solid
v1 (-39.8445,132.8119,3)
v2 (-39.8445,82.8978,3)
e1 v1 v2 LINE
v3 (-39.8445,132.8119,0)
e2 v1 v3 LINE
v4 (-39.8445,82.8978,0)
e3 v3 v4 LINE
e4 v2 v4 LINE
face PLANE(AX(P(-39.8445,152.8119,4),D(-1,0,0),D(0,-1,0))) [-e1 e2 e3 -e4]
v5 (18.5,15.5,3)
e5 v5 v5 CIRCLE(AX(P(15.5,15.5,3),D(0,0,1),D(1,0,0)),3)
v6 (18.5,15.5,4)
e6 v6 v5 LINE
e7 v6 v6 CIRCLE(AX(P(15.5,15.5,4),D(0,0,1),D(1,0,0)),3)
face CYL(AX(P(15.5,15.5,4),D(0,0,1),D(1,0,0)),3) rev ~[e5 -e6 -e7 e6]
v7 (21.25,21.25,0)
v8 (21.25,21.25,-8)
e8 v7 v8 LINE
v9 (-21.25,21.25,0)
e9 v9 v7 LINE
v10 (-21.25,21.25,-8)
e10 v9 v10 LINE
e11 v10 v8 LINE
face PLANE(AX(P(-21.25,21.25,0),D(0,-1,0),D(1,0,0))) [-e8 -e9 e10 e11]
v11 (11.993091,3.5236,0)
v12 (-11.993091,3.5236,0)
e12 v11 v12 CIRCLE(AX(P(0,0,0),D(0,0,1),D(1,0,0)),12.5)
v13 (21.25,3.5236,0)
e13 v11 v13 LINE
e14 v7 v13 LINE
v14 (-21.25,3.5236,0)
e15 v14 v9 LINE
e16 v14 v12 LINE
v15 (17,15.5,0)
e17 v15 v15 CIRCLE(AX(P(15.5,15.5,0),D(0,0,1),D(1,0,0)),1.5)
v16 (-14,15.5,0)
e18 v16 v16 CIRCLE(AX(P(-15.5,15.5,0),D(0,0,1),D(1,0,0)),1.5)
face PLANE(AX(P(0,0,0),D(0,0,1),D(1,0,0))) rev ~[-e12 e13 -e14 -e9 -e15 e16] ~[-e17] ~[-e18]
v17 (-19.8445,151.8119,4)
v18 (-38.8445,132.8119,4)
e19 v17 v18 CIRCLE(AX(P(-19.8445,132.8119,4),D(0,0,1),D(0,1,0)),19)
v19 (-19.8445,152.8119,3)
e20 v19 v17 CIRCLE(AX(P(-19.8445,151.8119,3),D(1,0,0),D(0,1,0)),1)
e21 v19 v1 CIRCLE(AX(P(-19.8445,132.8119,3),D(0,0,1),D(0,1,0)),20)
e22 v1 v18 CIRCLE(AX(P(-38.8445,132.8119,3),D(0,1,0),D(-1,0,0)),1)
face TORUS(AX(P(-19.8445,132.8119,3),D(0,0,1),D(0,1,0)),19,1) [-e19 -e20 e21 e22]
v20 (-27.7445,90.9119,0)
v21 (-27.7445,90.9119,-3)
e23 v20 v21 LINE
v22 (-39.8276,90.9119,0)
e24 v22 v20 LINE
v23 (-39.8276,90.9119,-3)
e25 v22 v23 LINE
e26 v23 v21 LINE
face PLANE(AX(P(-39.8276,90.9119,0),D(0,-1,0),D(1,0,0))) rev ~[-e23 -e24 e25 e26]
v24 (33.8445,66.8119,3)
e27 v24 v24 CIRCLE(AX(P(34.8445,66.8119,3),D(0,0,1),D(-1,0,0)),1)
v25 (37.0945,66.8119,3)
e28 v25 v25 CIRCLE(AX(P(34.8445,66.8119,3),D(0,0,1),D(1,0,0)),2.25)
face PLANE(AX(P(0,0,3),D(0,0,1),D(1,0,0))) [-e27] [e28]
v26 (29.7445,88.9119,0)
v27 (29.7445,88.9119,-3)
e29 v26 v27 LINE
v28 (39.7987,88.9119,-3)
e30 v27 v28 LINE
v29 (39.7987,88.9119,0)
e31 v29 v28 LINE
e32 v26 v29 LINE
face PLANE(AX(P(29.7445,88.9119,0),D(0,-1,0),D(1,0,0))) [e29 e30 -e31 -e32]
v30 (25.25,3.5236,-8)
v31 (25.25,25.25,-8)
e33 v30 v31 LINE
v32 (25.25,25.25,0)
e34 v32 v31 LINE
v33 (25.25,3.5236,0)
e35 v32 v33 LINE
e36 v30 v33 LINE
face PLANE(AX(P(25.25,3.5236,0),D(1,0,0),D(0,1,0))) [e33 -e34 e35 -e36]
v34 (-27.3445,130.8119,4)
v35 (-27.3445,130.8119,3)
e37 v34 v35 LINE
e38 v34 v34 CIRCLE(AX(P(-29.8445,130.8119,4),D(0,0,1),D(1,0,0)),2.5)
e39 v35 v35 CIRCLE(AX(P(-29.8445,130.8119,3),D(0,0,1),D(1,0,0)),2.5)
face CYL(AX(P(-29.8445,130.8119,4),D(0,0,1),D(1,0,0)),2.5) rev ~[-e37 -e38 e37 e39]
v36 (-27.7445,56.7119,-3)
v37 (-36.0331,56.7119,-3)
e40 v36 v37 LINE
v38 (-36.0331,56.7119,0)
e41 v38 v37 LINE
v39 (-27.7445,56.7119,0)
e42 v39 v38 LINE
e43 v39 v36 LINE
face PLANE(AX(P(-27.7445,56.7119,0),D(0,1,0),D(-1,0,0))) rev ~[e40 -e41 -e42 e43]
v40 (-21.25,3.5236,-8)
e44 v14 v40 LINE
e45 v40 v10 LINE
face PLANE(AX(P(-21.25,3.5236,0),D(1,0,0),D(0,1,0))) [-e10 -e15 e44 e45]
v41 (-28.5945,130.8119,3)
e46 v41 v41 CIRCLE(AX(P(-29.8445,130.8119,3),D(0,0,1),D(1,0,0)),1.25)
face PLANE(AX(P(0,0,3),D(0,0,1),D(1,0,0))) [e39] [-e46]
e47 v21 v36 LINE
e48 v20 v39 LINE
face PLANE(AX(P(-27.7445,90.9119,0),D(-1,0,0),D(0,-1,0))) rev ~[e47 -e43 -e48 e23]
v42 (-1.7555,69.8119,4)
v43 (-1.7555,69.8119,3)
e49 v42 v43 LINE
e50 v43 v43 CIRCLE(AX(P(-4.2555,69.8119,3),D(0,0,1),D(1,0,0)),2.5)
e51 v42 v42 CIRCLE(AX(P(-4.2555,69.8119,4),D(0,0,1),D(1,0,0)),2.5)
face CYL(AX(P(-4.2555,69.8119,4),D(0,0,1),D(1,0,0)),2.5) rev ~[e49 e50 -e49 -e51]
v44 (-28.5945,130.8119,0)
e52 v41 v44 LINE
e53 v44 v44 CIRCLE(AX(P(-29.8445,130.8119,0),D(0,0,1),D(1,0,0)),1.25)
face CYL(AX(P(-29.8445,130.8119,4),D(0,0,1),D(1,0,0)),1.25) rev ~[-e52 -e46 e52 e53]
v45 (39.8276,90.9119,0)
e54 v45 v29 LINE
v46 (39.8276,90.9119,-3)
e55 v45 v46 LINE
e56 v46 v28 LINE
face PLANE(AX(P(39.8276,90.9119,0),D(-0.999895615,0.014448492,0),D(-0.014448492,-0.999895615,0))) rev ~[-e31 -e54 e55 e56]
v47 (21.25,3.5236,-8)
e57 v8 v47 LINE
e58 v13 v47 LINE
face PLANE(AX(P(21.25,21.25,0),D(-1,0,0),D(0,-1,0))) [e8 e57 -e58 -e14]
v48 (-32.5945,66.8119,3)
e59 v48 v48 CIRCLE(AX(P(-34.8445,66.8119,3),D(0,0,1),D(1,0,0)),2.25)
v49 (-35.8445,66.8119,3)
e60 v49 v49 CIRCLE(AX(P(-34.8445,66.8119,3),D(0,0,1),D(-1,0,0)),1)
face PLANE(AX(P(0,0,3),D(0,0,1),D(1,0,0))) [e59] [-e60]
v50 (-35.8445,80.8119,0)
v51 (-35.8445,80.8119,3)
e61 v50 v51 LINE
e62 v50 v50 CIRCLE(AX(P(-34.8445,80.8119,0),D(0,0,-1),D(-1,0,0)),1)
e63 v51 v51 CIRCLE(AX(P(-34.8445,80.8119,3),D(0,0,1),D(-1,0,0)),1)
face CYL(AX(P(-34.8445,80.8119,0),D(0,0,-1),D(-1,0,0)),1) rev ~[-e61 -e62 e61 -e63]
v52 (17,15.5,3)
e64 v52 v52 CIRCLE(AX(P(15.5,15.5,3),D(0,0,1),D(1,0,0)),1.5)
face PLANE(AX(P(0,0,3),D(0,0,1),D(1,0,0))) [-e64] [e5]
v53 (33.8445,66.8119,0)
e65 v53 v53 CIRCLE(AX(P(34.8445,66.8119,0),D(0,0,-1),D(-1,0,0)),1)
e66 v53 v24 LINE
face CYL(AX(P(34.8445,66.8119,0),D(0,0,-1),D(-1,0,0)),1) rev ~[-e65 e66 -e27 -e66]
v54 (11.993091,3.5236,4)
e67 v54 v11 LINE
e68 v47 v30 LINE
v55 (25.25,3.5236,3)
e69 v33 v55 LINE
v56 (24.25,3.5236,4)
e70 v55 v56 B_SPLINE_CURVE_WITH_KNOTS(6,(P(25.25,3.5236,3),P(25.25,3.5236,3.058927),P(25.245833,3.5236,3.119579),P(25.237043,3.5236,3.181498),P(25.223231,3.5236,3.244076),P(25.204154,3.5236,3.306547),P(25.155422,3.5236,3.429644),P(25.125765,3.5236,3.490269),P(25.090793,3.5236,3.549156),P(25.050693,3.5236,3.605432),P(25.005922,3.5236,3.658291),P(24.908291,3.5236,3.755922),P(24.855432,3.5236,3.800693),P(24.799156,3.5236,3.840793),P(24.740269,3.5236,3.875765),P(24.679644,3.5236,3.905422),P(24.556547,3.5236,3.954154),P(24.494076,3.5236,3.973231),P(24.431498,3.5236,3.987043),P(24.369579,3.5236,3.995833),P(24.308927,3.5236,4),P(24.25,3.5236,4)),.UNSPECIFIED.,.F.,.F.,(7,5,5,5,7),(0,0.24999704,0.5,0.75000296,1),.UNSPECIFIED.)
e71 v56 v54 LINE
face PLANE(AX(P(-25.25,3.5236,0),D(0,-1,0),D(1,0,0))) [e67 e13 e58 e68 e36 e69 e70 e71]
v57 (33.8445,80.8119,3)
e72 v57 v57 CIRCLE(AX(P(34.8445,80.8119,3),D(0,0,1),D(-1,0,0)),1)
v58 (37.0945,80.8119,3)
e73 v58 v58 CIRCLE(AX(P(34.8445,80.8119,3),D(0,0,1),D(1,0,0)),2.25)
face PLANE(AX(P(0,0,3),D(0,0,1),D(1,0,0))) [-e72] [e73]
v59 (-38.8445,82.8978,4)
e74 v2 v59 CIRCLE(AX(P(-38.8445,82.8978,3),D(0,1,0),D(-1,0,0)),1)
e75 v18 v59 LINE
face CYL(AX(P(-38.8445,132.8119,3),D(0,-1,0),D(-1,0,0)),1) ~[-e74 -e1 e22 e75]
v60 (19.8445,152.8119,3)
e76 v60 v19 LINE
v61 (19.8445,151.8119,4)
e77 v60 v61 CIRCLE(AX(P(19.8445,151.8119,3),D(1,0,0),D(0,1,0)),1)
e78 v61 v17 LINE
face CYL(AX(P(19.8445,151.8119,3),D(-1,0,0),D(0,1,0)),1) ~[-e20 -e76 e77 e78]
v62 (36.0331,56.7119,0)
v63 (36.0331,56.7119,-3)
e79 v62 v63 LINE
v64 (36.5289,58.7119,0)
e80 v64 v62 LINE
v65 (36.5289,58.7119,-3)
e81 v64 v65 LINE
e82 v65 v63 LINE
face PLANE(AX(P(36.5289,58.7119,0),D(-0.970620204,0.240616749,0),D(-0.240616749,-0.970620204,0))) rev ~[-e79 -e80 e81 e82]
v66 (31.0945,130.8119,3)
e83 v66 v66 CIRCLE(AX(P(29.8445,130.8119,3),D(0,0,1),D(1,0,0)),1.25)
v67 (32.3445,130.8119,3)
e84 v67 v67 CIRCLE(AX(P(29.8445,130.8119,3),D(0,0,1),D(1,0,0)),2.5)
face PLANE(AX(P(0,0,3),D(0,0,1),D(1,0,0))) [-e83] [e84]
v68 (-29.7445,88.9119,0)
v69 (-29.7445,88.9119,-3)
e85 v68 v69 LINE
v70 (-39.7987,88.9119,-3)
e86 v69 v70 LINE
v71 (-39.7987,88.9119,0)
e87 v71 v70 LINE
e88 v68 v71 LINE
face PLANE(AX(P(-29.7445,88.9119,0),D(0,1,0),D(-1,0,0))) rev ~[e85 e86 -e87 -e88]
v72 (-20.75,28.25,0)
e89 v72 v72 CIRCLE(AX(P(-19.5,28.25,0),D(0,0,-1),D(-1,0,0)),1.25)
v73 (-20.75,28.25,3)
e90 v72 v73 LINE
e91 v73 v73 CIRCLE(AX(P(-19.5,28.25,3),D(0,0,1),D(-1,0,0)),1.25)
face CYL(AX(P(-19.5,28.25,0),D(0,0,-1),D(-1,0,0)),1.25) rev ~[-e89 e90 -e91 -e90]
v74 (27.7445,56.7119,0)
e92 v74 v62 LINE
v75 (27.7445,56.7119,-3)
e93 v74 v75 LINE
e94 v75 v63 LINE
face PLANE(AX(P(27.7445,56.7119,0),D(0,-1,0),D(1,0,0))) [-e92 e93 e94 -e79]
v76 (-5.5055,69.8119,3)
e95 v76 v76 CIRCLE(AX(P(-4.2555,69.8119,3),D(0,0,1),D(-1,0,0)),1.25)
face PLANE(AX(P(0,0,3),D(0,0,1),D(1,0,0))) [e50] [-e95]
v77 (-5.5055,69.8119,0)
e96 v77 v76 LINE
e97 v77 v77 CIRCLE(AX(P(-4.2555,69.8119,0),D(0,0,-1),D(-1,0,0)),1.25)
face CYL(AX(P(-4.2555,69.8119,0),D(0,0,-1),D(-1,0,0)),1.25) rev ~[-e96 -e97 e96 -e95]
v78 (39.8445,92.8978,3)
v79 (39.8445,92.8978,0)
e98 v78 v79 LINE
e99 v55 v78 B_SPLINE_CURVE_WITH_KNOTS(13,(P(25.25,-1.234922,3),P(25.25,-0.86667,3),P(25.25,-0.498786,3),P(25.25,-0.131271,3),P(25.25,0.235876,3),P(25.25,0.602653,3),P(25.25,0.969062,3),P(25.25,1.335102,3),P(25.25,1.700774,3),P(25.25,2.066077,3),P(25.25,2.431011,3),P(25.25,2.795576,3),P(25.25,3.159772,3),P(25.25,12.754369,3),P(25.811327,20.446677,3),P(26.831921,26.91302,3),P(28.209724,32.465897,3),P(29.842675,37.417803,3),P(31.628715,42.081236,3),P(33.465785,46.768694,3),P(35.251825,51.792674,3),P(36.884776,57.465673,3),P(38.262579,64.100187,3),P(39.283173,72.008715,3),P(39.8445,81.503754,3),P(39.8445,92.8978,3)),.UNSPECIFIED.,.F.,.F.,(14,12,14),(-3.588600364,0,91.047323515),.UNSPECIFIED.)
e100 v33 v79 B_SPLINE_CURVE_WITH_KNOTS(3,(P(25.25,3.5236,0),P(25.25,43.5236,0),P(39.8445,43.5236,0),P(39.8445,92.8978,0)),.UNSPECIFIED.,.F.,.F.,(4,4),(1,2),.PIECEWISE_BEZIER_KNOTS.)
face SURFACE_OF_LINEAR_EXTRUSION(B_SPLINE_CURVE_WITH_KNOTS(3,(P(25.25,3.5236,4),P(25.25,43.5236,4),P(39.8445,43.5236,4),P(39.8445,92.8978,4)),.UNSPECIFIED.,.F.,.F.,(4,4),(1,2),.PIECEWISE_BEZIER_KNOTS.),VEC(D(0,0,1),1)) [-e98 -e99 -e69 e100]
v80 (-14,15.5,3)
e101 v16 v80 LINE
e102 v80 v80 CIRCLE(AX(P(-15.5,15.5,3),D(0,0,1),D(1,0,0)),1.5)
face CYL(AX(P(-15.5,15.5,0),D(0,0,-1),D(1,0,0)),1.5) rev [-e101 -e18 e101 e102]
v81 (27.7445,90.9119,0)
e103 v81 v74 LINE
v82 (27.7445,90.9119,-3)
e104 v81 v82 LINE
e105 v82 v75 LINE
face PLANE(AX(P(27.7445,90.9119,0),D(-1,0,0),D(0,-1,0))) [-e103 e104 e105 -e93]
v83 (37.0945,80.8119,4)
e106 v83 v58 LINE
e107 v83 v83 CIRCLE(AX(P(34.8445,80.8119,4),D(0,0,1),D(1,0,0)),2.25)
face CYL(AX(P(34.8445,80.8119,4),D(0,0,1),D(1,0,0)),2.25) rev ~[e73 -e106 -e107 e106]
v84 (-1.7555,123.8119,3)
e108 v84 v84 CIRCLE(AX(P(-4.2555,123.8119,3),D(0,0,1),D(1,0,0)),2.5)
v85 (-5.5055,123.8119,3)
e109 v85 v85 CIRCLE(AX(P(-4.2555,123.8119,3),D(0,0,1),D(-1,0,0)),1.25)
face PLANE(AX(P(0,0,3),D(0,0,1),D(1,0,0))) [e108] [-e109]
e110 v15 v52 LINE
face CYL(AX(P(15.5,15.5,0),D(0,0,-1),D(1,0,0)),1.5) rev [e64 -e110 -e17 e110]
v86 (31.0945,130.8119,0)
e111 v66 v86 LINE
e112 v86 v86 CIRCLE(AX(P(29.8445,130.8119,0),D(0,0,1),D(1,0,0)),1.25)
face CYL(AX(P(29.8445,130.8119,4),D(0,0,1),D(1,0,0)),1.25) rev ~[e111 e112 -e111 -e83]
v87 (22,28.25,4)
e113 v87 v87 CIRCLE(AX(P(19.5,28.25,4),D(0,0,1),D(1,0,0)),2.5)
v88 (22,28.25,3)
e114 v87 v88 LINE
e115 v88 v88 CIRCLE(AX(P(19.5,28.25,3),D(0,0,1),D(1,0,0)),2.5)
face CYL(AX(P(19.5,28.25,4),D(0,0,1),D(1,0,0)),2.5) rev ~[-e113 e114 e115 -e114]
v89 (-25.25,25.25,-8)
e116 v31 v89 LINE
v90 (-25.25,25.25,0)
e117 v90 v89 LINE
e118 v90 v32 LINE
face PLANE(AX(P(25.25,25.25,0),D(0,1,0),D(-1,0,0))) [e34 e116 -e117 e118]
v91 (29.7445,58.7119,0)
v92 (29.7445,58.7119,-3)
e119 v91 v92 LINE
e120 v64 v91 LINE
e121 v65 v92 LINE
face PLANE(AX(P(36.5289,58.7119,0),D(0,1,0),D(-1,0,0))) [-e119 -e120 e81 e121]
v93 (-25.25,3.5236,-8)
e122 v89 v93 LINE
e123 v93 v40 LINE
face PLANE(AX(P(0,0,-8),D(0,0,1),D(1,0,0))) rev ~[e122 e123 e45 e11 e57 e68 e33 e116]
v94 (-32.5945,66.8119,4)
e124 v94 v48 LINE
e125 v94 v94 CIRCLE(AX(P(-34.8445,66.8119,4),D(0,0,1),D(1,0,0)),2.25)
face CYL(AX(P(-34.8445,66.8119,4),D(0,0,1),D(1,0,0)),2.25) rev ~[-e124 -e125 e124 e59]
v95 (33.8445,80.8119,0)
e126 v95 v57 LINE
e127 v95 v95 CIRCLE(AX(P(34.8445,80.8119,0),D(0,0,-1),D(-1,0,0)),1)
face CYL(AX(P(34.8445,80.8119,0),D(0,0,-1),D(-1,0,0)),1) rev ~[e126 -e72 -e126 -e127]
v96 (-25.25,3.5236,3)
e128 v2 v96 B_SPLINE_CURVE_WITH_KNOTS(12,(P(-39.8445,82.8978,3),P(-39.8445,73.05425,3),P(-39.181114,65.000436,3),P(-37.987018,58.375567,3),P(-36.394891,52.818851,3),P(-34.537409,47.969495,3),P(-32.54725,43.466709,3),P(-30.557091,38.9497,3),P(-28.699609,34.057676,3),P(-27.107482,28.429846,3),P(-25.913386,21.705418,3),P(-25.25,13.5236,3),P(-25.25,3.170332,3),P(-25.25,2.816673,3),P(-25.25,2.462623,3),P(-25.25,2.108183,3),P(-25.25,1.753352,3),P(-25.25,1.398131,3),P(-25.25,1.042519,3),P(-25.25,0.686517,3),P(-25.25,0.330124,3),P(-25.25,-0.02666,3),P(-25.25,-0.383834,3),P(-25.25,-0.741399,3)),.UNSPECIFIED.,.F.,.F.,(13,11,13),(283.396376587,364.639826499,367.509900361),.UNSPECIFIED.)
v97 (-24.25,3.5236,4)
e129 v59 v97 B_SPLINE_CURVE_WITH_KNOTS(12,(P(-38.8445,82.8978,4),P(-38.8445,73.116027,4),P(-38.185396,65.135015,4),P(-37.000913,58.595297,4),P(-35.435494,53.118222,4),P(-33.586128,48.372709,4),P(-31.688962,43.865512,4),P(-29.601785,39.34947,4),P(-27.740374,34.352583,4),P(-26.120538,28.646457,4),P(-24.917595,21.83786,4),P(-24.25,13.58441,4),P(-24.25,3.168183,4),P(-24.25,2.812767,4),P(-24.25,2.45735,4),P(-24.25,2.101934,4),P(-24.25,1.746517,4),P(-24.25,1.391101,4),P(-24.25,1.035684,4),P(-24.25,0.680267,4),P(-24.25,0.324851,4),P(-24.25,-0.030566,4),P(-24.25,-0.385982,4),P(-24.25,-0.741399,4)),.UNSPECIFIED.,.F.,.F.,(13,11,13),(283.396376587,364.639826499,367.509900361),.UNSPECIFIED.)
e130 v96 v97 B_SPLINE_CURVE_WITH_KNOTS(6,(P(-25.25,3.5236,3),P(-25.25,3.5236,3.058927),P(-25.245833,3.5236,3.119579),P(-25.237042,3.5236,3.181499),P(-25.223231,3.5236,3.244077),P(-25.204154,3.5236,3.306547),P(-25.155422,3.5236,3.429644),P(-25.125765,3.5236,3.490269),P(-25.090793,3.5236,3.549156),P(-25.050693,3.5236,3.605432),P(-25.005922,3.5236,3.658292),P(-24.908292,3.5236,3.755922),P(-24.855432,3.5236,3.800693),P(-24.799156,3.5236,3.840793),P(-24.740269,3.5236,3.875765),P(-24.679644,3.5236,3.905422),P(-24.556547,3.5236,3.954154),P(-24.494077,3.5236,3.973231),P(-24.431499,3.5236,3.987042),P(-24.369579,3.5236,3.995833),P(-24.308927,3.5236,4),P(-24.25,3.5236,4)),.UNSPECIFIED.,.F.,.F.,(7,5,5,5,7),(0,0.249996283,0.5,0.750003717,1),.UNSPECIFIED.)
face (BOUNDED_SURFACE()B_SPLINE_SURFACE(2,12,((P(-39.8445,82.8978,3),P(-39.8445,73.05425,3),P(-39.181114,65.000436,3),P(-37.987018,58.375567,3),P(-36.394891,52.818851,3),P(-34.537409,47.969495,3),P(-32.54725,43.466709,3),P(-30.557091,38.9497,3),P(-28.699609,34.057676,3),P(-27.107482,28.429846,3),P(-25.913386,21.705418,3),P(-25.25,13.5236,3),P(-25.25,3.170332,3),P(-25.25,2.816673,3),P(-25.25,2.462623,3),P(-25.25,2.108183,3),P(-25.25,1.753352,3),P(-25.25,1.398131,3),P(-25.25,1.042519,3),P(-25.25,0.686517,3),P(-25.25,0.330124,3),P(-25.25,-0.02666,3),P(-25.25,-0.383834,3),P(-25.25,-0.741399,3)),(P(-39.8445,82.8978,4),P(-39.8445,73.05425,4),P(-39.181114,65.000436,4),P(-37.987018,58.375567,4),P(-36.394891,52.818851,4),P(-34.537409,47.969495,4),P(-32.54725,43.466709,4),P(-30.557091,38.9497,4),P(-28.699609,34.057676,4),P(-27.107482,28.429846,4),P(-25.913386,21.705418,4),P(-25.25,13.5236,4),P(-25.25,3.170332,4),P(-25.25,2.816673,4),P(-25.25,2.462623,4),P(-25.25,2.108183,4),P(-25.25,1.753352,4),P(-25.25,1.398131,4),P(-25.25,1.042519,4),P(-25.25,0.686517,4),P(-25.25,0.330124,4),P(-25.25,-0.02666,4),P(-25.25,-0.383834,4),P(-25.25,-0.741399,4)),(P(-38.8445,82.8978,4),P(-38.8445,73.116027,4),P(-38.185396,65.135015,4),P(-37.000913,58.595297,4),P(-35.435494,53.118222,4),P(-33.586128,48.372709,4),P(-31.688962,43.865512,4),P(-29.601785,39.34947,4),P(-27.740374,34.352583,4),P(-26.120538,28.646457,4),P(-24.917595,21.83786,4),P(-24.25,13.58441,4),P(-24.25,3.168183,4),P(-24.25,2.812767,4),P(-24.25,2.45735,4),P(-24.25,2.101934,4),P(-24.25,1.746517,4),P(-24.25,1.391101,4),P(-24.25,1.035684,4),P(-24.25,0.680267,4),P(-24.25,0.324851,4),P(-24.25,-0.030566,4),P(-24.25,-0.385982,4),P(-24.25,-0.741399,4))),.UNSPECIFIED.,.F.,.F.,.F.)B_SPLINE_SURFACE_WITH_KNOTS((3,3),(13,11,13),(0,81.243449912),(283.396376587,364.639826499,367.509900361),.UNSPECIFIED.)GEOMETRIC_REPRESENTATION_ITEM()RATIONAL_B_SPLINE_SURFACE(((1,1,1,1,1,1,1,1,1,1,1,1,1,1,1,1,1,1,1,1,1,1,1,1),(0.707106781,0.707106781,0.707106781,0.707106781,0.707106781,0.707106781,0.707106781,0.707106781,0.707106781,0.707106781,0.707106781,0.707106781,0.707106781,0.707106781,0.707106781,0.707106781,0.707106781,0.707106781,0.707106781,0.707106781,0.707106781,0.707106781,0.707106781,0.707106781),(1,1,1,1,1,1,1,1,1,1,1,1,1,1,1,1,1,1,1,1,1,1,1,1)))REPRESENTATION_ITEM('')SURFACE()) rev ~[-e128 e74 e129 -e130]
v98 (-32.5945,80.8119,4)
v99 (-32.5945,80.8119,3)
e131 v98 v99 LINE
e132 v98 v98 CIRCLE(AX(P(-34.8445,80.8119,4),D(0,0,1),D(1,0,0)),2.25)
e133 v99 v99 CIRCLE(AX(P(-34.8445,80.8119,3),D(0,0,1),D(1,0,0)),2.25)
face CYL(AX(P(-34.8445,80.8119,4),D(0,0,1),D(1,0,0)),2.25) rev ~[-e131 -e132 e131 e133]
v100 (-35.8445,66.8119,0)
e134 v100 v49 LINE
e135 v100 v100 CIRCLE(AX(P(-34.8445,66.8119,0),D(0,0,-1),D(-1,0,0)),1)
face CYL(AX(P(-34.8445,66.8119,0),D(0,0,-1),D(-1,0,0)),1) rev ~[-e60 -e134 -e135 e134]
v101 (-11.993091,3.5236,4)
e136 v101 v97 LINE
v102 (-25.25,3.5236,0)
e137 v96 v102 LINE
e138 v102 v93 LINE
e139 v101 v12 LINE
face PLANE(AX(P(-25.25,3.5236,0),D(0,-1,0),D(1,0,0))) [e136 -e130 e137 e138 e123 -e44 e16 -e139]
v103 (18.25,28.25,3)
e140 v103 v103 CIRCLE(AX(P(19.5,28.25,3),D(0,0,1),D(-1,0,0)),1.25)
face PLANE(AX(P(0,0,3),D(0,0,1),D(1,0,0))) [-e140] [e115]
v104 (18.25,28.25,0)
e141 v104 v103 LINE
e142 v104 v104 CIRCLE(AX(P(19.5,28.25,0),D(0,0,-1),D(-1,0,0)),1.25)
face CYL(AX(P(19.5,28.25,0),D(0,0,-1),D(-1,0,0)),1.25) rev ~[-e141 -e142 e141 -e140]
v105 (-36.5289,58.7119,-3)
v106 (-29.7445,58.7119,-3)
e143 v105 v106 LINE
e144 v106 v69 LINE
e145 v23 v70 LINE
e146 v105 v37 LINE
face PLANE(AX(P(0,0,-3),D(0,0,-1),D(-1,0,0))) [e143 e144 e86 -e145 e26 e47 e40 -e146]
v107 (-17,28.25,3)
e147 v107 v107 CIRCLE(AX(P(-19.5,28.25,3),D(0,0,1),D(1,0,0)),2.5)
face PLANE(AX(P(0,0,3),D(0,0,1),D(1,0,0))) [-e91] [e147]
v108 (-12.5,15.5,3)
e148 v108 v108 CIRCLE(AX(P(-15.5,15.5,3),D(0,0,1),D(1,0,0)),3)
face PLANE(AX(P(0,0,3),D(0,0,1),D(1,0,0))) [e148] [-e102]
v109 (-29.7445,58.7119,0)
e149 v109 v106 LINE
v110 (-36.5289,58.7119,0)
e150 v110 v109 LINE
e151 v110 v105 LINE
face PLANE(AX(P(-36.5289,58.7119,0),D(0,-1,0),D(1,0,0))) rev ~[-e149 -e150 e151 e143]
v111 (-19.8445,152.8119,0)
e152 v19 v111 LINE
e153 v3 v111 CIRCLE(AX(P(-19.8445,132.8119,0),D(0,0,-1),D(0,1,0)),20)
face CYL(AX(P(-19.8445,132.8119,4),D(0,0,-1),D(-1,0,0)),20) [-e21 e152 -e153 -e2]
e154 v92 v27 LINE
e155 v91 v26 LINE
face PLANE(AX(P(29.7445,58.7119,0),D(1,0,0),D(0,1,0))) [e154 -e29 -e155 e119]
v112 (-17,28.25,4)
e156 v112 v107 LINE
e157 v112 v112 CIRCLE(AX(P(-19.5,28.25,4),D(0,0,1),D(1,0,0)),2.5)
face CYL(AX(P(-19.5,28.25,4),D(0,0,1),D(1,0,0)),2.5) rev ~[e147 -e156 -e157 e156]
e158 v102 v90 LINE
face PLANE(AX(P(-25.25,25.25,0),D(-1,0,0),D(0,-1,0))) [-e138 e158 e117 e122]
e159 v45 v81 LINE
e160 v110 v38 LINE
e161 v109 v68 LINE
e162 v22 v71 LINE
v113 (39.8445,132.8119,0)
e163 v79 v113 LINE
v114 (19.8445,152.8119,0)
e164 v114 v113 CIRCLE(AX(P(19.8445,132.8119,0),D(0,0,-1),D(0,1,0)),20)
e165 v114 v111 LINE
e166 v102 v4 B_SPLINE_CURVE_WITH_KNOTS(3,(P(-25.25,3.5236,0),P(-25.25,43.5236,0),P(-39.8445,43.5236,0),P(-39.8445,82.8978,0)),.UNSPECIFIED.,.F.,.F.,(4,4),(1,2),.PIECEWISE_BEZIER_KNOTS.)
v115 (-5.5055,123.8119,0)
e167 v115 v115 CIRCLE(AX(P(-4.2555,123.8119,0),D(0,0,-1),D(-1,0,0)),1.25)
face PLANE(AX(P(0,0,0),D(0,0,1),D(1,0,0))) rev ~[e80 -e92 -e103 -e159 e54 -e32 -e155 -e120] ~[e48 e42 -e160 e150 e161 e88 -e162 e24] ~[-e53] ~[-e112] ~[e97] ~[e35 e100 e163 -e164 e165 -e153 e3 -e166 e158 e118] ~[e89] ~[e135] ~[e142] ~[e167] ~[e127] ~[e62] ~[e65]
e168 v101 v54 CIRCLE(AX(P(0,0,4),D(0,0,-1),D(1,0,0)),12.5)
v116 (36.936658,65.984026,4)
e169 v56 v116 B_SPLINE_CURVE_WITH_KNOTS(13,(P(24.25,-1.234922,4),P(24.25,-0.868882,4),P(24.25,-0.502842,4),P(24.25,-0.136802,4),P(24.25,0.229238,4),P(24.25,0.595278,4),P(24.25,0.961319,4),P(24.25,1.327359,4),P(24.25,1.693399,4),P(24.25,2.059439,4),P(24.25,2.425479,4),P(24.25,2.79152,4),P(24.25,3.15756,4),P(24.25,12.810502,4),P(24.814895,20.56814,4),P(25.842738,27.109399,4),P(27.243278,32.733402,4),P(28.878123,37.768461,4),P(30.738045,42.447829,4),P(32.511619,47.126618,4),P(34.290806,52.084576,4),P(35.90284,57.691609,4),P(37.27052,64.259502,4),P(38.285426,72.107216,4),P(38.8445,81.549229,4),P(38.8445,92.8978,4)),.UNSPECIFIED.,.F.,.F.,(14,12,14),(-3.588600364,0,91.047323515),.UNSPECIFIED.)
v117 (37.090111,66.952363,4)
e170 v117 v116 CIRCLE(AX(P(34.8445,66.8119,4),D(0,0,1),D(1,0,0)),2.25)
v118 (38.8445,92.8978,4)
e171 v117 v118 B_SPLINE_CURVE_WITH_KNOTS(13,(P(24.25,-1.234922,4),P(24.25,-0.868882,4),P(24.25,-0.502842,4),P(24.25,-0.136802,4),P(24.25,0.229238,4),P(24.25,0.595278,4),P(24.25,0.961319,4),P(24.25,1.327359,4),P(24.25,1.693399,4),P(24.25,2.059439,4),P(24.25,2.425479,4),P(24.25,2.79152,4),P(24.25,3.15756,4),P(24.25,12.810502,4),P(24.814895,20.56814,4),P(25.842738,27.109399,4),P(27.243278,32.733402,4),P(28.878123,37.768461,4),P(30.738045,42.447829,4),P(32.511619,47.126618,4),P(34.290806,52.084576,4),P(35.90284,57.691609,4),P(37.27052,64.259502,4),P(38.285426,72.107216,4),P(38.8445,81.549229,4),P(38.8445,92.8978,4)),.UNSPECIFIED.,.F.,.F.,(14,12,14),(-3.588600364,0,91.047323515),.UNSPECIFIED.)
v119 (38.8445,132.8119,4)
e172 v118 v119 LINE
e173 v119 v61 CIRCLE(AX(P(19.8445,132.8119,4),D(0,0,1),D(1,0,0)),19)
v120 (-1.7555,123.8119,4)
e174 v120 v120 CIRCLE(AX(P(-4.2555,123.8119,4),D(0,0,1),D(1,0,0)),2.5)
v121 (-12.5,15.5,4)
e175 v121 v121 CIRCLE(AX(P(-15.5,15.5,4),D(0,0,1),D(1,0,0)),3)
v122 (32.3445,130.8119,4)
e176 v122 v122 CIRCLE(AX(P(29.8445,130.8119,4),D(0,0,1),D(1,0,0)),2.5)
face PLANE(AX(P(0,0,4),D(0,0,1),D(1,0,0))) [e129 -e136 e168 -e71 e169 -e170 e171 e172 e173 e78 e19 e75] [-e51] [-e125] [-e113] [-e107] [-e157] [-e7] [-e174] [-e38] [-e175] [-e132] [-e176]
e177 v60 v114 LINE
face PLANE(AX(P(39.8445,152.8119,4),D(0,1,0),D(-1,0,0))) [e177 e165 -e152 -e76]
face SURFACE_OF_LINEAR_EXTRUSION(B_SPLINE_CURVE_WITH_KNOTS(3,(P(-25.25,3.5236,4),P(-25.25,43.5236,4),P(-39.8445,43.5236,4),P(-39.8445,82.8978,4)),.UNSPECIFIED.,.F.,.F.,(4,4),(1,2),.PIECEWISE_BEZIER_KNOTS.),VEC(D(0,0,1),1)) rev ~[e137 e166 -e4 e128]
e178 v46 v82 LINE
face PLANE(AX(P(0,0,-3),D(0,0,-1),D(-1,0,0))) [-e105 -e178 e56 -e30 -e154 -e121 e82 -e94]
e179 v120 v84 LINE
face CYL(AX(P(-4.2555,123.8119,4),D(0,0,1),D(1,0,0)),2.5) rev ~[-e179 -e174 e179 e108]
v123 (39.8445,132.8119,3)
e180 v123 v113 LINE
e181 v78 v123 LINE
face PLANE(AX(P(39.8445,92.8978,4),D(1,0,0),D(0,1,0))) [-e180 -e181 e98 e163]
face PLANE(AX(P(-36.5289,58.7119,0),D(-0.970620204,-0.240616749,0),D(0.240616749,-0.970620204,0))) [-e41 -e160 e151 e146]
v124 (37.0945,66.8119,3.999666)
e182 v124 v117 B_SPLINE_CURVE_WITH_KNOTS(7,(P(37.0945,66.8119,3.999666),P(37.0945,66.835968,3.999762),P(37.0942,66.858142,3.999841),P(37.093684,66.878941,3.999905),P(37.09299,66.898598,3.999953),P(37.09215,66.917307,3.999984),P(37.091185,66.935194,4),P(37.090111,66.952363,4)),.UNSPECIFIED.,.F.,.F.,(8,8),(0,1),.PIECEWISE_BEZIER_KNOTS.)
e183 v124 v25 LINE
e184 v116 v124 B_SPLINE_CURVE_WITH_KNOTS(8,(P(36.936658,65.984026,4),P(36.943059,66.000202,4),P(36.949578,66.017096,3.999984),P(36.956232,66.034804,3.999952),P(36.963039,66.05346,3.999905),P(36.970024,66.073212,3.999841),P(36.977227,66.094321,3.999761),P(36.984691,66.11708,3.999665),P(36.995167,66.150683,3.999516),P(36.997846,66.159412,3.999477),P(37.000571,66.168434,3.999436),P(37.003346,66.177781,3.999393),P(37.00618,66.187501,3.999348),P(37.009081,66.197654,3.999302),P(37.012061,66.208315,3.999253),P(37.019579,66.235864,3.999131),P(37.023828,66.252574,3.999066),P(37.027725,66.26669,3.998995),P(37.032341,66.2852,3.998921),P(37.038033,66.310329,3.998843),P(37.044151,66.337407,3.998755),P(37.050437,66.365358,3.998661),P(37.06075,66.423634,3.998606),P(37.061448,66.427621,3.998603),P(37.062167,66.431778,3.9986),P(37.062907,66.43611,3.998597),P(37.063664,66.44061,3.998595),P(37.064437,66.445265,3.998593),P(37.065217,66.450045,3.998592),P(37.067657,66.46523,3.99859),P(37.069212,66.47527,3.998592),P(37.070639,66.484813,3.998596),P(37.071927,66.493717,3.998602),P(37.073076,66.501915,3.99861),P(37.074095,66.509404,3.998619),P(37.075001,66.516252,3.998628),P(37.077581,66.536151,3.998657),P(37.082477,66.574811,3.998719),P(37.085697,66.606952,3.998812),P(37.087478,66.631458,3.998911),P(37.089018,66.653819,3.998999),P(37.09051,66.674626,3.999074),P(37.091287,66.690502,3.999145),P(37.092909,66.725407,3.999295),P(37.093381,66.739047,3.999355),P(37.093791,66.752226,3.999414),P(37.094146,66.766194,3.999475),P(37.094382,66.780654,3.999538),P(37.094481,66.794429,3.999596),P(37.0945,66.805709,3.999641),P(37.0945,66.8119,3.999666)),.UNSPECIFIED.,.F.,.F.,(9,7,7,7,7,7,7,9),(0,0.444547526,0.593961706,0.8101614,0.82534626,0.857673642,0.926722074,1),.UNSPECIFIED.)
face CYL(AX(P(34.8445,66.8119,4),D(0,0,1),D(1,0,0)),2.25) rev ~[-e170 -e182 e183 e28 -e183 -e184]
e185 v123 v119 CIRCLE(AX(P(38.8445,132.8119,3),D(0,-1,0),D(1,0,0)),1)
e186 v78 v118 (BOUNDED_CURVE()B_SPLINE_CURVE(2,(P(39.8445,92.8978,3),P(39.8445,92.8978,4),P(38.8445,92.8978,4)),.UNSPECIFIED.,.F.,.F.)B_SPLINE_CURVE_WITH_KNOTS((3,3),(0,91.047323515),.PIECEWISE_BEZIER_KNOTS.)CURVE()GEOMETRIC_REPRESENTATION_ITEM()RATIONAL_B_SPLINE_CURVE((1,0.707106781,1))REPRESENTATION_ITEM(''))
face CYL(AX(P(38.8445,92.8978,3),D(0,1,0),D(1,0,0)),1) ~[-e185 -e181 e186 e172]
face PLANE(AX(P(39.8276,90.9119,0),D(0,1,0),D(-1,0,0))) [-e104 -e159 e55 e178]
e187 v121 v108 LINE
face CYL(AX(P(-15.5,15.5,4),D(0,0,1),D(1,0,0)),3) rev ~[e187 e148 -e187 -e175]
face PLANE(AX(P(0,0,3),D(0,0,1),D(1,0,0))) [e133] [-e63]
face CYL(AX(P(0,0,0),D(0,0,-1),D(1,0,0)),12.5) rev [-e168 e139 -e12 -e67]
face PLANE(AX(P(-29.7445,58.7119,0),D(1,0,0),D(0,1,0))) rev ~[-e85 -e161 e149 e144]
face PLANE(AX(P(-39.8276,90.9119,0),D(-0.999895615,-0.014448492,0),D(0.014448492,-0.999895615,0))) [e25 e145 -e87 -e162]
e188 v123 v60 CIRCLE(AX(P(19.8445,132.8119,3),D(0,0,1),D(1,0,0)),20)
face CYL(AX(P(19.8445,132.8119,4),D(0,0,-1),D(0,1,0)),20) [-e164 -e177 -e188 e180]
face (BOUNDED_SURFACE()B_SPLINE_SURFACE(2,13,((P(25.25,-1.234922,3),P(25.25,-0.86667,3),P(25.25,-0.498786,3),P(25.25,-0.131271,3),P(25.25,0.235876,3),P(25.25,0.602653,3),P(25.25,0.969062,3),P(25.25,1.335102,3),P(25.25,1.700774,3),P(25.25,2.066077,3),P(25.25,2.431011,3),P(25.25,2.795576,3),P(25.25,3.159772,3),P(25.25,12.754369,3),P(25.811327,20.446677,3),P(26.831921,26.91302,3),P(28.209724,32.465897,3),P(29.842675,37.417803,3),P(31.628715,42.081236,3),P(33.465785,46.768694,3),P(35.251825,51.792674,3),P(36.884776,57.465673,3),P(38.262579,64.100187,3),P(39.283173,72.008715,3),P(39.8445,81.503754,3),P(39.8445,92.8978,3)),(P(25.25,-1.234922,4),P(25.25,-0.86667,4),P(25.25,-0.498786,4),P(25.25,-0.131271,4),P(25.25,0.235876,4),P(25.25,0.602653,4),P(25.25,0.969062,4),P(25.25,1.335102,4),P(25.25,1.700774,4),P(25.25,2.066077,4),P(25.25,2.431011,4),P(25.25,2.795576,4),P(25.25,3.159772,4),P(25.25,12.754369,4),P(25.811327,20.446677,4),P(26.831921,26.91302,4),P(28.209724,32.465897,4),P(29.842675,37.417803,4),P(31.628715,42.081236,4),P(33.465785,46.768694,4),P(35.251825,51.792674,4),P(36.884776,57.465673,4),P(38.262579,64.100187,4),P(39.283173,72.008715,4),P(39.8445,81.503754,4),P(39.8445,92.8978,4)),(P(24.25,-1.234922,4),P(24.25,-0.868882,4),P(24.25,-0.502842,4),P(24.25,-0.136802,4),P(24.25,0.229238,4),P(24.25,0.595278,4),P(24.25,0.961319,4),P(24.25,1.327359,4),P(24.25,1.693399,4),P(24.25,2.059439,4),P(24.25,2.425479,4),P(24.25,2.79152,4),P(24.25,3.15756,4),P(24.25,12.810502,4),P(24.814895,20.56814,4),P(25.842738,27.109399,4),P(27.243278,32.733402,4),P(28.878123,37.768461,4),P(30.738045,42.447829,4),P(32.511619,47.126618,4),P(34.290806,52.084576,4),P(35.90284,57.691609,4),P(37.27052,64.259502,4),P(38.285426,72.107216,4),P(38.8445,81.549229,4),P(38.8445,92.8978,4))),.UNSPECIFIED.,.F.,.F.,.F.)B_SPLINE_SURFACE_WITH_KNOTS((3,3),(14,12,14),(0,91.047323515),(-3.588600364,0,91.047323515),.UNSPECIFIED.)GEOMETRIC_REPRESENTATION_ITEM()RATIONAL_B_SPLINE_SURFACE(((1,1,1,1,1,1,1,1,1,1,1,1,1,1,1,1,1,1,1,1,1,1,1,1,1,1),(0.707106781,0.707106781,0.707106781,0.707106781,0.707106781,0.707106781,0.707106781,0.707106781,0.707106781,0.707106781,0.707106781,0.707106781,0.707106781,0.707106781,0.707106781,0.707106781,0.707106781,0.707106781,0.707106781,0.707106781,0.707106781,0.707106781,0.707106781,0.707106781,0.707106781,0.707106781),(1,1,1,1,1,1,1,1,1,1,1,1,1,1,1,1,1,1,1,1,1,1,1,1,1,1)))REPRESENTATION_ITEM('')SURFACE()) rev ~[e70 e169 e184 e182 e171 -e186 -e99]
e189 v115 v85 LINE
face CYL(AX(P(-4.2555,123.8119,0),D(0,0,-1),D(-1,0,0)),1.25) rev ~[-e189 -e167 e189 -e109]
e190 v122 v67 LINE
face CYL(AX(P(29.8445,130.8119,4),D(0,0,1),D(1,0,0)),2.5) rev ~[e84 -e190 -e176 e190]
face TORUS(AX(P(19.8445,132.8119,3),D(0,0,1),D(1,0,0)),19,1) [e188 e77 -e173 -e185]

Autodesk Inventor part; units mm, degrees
ref_plane "YZ Plane" through (0, 0, 0) normal (1, 0, 0) x (0, 1, 0)
ref_plane "XZ Plane" through (0, 0, 0) normal (0, 1, 0) x (-1, 0, 0)
ref_plane "XY Plane" through (0, 0, 0) normal (0, 0, 1) x (1, 0, 0)
sketch "Sketch1" plane through (0, 0, 0) normal (0, 0, 1) x (1, 0, 0)
  line L0 (-21.25, 21.25) -> (21.25, 21.25)
  line L1 (21.25, 21.25) -> (21.25, -21.25)
  line L2 (21.25, -21.25) -> (-21.25, -21.25)
  line L3 (-21.25, -21.25) -> (-21.25, 21.25)
  line L4 (-21.25, 21.25) -> (21.25, -21.25) construction
  line L5 (21.25, 21.25) -> (-21.25, -21.25) construction
  circle A0 centre (0, 0) radius 11 construction
  circle A1 centre (0, 0) radius 12.5
  line L6 (-25.25, 3.5236) -> (25.25, 3.5236)
  line L7 (25.25, 3.5236) -> (25.25, 25.25)
  line L8 (25.25, 25.25) -> (-25.25, 25.25)
  line L9 (-25.25, 25.25) -> (-25.25, 3.5236)
  circle A2 centre (-15.5, 15.5) radius 1.5
  circle A3 centre (15.5, 15.5) radius 1.5
  point P0 (21.25, 3.5236)
  point P1 (-21.25, 3.5236)
  dimension "d0" = 42.5
  dimension "d1" = 42.5
  dimension "d2" = 22
  dimension "d3" = 25
  dimension "d4" = 4
  dimension "d5" = 4
  dimension "d6" = 4
  dimension "d7" = 3
  dimension "d8" = 3
  dimension "d9" = 15.5
  dimension "d10" = 15.5
  dimension "d11" = 15.5
  dimension "d12" = 15.5
extrude "Extrusion1" add sketch "Sketch1" along normal blind 4 contours L3 L6 L9 L8 L7 L1 L0 | L0 L1 L6 A1 L3 | A1 L6 picked at (3.04, 5.1985)
extrude "Extrusion3" add sketch "Sketch1" against normal blind 8 contours L3 L6 L9 L8 L7 L1 L0
sketch "Sketch2" plane through (0, 0, 4) normal (0, 0, 1) x (1, 0, 0)
  circle A0 centre (0, 0) radius 40 construction
  line L0 (-25.25, 3.5236) -> (25.25, 3.5236) construction
  line L1 (-25.25, 3.5236) -> (25.25, 3.5236) projected
  line L2 (-25.25, 3.5236) -> (25.25, 3.5236)
  line L3 (39.8445, 92.8978) -> (39.8445, 152.8119)
  line L4 (39.8445, 152.8119) -> (-39.8445, 152.8119)
  line L5 (-39.8445, 152.8119) -> (-39.8445, 82.8978)
  circle A1 centre (-15.5, 15.5) radius 1.5 projected
  circle A2 centre (-15.5, 15.5) radius 1.5
  circle A3 centre (15.5, 15.5) radius 1.5 projected
  circle A4 centre (15.5, 15.5) radius 1.5
  line L6 (25.25, 43.5236) -> (25.25, 3.5236) projected
  line L7 (25.25, 43.5236) -> (25.25, -31.0232) construction
  line L8 (-25.25, 25.25) -> (-25.25, -31.0232) construction
  line L9 (25.25, 3.5236) -> (25.25, 43.5236) projected
  line L10 (25.25, 3.5236) -> (25.25, 43.5236) construction
  line L11 (25.25, 43.5236) -> (39.8445, 43.5236) construction
  line L12 (39.8445, 43.5236) -> (39.8445, 92.8978) construction
  spline S0 degree 3 poles (25.25, 3.5236) (25.25, 43.5236) (39.8445, 43.5236) (39.8445, 92.8978) knots 1 1 1 1 2 2 2 2
  line L13 (-25.25, 3.5236) -> (-25.25, 43.5236) construction
  line L14 (-25.25, 43.5236) -> (-39.8445, 43.5236) construction
  line L15 (-39.8445, 43.5236) -> (-39.8445, 82.8978) construction
  spline S1 degree 3 poles (-25.25, 3.5236) (-25.25, 43.5236) (-39.8445, 43.5236) (-39.8445, 82.8978) knots 1 1 1 1 2 2 2 2
  line L16 (34.8445, 168.0706) -> (34.8445, -11.808) construction
  line L17 (-34.8445, 167.0543) -> (-34.8445, -11.808) construction
  line L18 (-29.8445, 168.6418) -> (-29.8445, -10.2205) construction
  line L19 (29.8445, 168.8008) -> (29.8445, -11.0778) construction
  line L20 (41.0033, 130.8119) -> (-56.4356, 130.8119) construction
  circle A5 centre (-29.8445, 130.8119) radius 1.25
  circle A6 centre (29.8445, 130.8119) radius 1.25
  point P0 (-11.9931, 3.5236)
  point P1 (-39.8445, 3.5236)
  point P2 (39.8445, 3.5236)
  dimension "d19" = 80
  dimension "d20" = 150
  dimension "d21" = 39.8445
  dimension "d33" = 40
  dimension "d34" = 40
  dimension "d35" = 40
  dimension "d36" = 39.8445
  dimension "d37" = 5
  dimension "d38" = 5
  dimension "d61" = 10
  dimension "d62" = 10
  dimension "d63" = 22
  dimension "d64" = 2.5
  dimension "d65" = 2.5
extrude "Extrusion4" add sketch "Sketch2" against normal blind 4 contours S1 L5 L4 L3 S0 L1 | A5 | A6
fillet "Fillet1" radius 20 2 edges at (-39.8445, 152.8119, 2) (39.8445, 152.8119, 2)
sketch "Sketch3" plane through (0, 0, 0) normal (0, 0, -1) x (-1, 0, 0)
  line L0 (-40.0079, 28.25) -> (78.3012, 28.25) construction
  line L1 (25.25, 25.25) -> (-25.25, 25.25) projected
  line L2 (-19.5, 51.7245) -> (-19.5, -25.7194) construction
  line L3 (19.5, 50.7243) -> (19.5, -26.4338) construction
  circle A0 centre (-19.5, 28.25) radius 1.25
  circle A1 centre (19.5, 28.25) radius 1.25
  point P0 (0, 0)
  dimension "d26" = 3
  dimension "d27" = 19.5
  dimension "d28" = 19.5
  dimension "d29" = 2.5
  dimension "d30" = 2.5
extrude "Extrusion5" cut sketch "Sketch3" against normal blind 10
sketch "Sketch4" plane through (0, 0, 0) normal (0, 0, -1) x (-1, 0, 0)
  line L0 (-34.8445, 174.3908) -> (-34.8445, -4.6748) construction
  line L1 (34.8445, 172.891) -> (34.8445, -6.1746) construction
  line L2 (39.8445, 174.885) -> (39.8445, -4.1806) construction
  line L3 (39.8445, 82.8978) -> (39.8445, 132.8119) projected
  line L4 (-39.8445, 132.8119) -> (-39.8445, 92.8978) projected
  line L5 (-58.077, 152.8119) -> (62.4518, 152.8119) construction
  line L6 (19.8445, 152.8119) -> (-19.8445, 152.8119) projected
  line L7 (-60.7578, 80.8119) -> (59.771, 80.8119) construction
  line L8 (-61.2028, 66.8119) -> (59.326, 66.8119) construction
  circle A0 centre (-34.8445, 80.8119) radius 1
  circle A1 centre (-34.8445, 66.8119) radius 1
  circle A2 centre (34.8445, 80.8119) radius 1
  circle A3 centre (34.8445, 66.8119) radius 1
  line L9 (-29.8445, 176.1827) -> (-29.8445, -2.8829) construction
  line L10 (29.8445, 178.0117) -> (29.8445, -1.0539) construction
  line L11 (-58.5074, 88.8119) -> (62.0214, 88.8119) construction
  line L12 (-58.4589, 58.8119) -> (62.0699, 58.8119) construction
  line L13 (-39.8445, 88.8119) -> (-29.8445, 88.8119) construction
  line L14 (-29.8445, 88.8119) -> (-29.8445, 58.8119) construction
  line L15 (-29.8445, 58.8119) -> (-36.5289, 58.8119) construction
  line L16 (-36.5289, 58.7119) -> (-29.7445, 58.7119)
  line L17 (-29.7445, 58.7119) -> (-29.7445, 88.9119)
  line L18 (-29.7445, 88.9119) -> (-39.7987, 88.9119)
  line L19 (-39.8276, 90.9119) -> (-27.7445, 90.9119)
  line L20 (-27.7445, 90.9119) -> (-27.7445, 56.7119)
  line L21 (-27.7445, 56.7119) -> (-36.0331, 56.7119)
  line L22 (-36.5289, 58.7119) -> (-36.0331, 56.7119)
  line L23 (-39.8445, 176.1815) -> (-39.8445, 90.9119) construction
  line L24 (-39.8445, 88.9119) -> (-39.8445, -2.8841) construction
  line L25 (-39.8276, 90.9119) -> (-39.7987, 88.9119)
  line L26 (0, 0) -> (0, 162.0516)
  circle A4 centre (34.8445, 80.8119) radius 1
  circle A5 centre (34.8445, 66.8119) radius 1
  line L27 (39.8445, 88.8119) -> (29.8445, 88.8119) construction
  line L28 (29.8445, 88.8119) -> (29.8445, 58.8119) construction
  line L29 (29.8445, 58.8119) -> (36.5289, 58.8119) construction
  line L30 (36.5289, 58.7119) -> (29.7445, 58.7119)
  line L31 (29.7445, 58.7119) -> (29.7445, 88.9119)
  line L32 (29.7445, 88.9119) -> (39.7987, 88.9119)
  line L33 (39.8276, 90.9119) -> (27.7445, 90.9119)
  line L34 (27.7445, 90.9119) -> (27.7445, 56.7119)
  line L35 (27.7445, 56.7119) -> (36.0331, 56.7119)
  line L36 (36.5289, 58.7119) -> (36.0331, 56.7119)
  line L37 (39.8276, 90.9119) -> (39.7987, 88.9119)
  point P0 (-29.8445, 82.3994)
  point P1 (-29.8445, 68.3994)
  point P2 (29.8445, 83.9869)
  point P3 (29.8445, 69.9869)
  point P4 (-33.257, 88.8119)
  point P5 (36.432, 88.8119)
  point P6 (-33.257, 58.8119)
  point P7 (36.432, 58.8119)
  point P8 (39.8445, 92.8978)
  point P9 (29.8445, 82.3994)
  point P10 (29.8445, 68.3994)
  point P11 (33.257, 88.8119)
  point P12 (33.257, 58.8119)
  point P13 (39.8445, 88.9119)
  point P14 (39.8445, 90.9119)
  dimension "d40" = 5
  dimension "d41" = 72
  dimension "d42" = 14
  dimension "d43" = 2
  dimension "d44" = 2
  dimension "d45" = 2
  dimension "d46" = 2
  dimension "d49" = 5
  dimension "d50" = 5
  dimension "d51" = 8
  dimension "d52" = 8
  dimension "d53" = 0.1
  dimension "d54" = 2
extrude "Extrusion6" cut sketch "Sketch4" against normal blind 10 contours A0 | A1 | A2 | A3
extrude "Extrusion7" add sketch "Sketch4" along normal blind 3 contours L16 L17 L18 L25 L19 L20 L21 L22
extrude "Extrusion8" add sketch "Sketch4" along normal blind 3 contours L36 L35 L34 L33 L37 L32 L31 L30
extrude "Extrusion9" cut sketch "Sketch1" along normal blind 10 contours L6 A1 | A1 L6
extrude "Extrusion10" cut sketch "Sketch2" against normal blind 10 contours A5 | A6
fillet "Fillet3" radius 1 5 edges at (0, 152.8119, 4) (39.8445, 112.8548, 4) (32.5473, 44.6953, 4) (-32.5473, 43.4453, 4) (-39.8445, 107.8548, 4)
sketch "Sketch5" plane through (0, 0, 0) normal (0, 0, -1) x (-1, 0, 0)
  line L0 (4.2555, 165.0839) -> (4.2555, -21.0634) construction
  line L1 (-39.8445, 132.8119) -> (-39.8445, 92.8978) construction
  line L2 (-55.7107, 123.8119) -> (58.0035, 123.8119) construction
  line L3 (-52.844, 69.8119) -> (64.1192, 69.8119) construction
  line L4 (19.8445, 152.8119) -> (-19.8445, 152.8119) construction
  circle A0 centre (4.2555, 123.8119) radius 1.25
  circle A1 centre (4.2555, 69.8119) radius 1.25
  point P0 (0, 0)
  dimension "d69" = 44.1
  dimension "d70" = 29
  dimension "d71" = 83
  dimension "d72" = 2.5
  dimension "d73" = 2.5
extrude "Extrusion11" cut sketch "Sketch5" against normal blind 10
sketch "Sketch6" plane through (0, 0, 4) normal (0, 0, 1) x (1, 0, 0)
  circle A0 centre (-15.5, 15.5) radius 1.5 projected
  circle A1 centre (-15.5, 15.5) radius 3
  circle A2 centre (15.5, 15.5) radius 1.5 projected
  circle A3 centre (15.5, 15.5) radius 3
  circle A4 centre (-29.8445, 130.8119) radius 1.25 projected
  circle A5 centre (-29.8445, 130.8119) radius 2.5
  circle A6 centre (-4.2555, 123.8119) radius 1.25 projected
  circle A7 centre (-4.2555, 123.8119) radius 2.5
  circle A8 centre (29.8445, 130.8119) radius 1.25 projected
  circle A9 centre (29.8445, 130.8119) radius 2.5
  circle A10 centre (-4.2555, 69.8119) radius 1.25 projected
  circle A11 centre (-4.2555, 69.8119) radius 2.5
  circle A12 centre (-19.5, 28.25) radius 1.25 projected
  circle A13 centre (-19.5, 28.25) radius 2.5
  circle A14 centre (19.5, 28.25) radius 1.25 projected
  circle A15 centre (19.5, 28.25) radius 2.5
  circle A16 centre (-34.8445, 80.8119) radius 1 projected
  circle A17 centre (-34.8445, 80.8119) radius 2.25
  circle A18 centre (-34.8445, 66.8119) radius 1 projected
  circle A19 centre (-34.8445, 66.8119) radius 2.25
  circle A20 centre (34.8445, 80.8119) radius 1 projected
  circle A21 centre (34.8445, 80.8119) radius 2.25
  circle A22 centre (34.8445, 66.8119) radius 1 projected
  circle A23 centre (34.8445, 66.8119) radius 2.25
  point P0 (0, 0)
  dimension "d76" = 6
  dimension "d77" = 6
  dimension "d78" = 5
  dimension "d79" = 5
  dimension "d81" = 5
  dimension "d82" = 5
  dimension "d83" = 5
  dimension "d84" = 5
  dimension "d85" = 4.5
  dimension "d86" = 4.5
  dimension "d87" = 4.5
  dimension "d88" = 4.5
extrude "Extrusion12" cut sketch "Sketch6" against normal blind 1
equation "\"d1\" = d0"
equation "\"d5\" = d4"
equation "\"d6\" = d4"
equation "\"d8\" = d7"
equation "\"d11\" = d9"
equation "\"d12\" = d10"
equation "\"d21\" = d36"
equation "\"d34\" = d33"
equation "\"d35\" = d33"
equation "\"d38\" = d37"
equation "\"d28\" = d27"
properties part number "Sideplate"
